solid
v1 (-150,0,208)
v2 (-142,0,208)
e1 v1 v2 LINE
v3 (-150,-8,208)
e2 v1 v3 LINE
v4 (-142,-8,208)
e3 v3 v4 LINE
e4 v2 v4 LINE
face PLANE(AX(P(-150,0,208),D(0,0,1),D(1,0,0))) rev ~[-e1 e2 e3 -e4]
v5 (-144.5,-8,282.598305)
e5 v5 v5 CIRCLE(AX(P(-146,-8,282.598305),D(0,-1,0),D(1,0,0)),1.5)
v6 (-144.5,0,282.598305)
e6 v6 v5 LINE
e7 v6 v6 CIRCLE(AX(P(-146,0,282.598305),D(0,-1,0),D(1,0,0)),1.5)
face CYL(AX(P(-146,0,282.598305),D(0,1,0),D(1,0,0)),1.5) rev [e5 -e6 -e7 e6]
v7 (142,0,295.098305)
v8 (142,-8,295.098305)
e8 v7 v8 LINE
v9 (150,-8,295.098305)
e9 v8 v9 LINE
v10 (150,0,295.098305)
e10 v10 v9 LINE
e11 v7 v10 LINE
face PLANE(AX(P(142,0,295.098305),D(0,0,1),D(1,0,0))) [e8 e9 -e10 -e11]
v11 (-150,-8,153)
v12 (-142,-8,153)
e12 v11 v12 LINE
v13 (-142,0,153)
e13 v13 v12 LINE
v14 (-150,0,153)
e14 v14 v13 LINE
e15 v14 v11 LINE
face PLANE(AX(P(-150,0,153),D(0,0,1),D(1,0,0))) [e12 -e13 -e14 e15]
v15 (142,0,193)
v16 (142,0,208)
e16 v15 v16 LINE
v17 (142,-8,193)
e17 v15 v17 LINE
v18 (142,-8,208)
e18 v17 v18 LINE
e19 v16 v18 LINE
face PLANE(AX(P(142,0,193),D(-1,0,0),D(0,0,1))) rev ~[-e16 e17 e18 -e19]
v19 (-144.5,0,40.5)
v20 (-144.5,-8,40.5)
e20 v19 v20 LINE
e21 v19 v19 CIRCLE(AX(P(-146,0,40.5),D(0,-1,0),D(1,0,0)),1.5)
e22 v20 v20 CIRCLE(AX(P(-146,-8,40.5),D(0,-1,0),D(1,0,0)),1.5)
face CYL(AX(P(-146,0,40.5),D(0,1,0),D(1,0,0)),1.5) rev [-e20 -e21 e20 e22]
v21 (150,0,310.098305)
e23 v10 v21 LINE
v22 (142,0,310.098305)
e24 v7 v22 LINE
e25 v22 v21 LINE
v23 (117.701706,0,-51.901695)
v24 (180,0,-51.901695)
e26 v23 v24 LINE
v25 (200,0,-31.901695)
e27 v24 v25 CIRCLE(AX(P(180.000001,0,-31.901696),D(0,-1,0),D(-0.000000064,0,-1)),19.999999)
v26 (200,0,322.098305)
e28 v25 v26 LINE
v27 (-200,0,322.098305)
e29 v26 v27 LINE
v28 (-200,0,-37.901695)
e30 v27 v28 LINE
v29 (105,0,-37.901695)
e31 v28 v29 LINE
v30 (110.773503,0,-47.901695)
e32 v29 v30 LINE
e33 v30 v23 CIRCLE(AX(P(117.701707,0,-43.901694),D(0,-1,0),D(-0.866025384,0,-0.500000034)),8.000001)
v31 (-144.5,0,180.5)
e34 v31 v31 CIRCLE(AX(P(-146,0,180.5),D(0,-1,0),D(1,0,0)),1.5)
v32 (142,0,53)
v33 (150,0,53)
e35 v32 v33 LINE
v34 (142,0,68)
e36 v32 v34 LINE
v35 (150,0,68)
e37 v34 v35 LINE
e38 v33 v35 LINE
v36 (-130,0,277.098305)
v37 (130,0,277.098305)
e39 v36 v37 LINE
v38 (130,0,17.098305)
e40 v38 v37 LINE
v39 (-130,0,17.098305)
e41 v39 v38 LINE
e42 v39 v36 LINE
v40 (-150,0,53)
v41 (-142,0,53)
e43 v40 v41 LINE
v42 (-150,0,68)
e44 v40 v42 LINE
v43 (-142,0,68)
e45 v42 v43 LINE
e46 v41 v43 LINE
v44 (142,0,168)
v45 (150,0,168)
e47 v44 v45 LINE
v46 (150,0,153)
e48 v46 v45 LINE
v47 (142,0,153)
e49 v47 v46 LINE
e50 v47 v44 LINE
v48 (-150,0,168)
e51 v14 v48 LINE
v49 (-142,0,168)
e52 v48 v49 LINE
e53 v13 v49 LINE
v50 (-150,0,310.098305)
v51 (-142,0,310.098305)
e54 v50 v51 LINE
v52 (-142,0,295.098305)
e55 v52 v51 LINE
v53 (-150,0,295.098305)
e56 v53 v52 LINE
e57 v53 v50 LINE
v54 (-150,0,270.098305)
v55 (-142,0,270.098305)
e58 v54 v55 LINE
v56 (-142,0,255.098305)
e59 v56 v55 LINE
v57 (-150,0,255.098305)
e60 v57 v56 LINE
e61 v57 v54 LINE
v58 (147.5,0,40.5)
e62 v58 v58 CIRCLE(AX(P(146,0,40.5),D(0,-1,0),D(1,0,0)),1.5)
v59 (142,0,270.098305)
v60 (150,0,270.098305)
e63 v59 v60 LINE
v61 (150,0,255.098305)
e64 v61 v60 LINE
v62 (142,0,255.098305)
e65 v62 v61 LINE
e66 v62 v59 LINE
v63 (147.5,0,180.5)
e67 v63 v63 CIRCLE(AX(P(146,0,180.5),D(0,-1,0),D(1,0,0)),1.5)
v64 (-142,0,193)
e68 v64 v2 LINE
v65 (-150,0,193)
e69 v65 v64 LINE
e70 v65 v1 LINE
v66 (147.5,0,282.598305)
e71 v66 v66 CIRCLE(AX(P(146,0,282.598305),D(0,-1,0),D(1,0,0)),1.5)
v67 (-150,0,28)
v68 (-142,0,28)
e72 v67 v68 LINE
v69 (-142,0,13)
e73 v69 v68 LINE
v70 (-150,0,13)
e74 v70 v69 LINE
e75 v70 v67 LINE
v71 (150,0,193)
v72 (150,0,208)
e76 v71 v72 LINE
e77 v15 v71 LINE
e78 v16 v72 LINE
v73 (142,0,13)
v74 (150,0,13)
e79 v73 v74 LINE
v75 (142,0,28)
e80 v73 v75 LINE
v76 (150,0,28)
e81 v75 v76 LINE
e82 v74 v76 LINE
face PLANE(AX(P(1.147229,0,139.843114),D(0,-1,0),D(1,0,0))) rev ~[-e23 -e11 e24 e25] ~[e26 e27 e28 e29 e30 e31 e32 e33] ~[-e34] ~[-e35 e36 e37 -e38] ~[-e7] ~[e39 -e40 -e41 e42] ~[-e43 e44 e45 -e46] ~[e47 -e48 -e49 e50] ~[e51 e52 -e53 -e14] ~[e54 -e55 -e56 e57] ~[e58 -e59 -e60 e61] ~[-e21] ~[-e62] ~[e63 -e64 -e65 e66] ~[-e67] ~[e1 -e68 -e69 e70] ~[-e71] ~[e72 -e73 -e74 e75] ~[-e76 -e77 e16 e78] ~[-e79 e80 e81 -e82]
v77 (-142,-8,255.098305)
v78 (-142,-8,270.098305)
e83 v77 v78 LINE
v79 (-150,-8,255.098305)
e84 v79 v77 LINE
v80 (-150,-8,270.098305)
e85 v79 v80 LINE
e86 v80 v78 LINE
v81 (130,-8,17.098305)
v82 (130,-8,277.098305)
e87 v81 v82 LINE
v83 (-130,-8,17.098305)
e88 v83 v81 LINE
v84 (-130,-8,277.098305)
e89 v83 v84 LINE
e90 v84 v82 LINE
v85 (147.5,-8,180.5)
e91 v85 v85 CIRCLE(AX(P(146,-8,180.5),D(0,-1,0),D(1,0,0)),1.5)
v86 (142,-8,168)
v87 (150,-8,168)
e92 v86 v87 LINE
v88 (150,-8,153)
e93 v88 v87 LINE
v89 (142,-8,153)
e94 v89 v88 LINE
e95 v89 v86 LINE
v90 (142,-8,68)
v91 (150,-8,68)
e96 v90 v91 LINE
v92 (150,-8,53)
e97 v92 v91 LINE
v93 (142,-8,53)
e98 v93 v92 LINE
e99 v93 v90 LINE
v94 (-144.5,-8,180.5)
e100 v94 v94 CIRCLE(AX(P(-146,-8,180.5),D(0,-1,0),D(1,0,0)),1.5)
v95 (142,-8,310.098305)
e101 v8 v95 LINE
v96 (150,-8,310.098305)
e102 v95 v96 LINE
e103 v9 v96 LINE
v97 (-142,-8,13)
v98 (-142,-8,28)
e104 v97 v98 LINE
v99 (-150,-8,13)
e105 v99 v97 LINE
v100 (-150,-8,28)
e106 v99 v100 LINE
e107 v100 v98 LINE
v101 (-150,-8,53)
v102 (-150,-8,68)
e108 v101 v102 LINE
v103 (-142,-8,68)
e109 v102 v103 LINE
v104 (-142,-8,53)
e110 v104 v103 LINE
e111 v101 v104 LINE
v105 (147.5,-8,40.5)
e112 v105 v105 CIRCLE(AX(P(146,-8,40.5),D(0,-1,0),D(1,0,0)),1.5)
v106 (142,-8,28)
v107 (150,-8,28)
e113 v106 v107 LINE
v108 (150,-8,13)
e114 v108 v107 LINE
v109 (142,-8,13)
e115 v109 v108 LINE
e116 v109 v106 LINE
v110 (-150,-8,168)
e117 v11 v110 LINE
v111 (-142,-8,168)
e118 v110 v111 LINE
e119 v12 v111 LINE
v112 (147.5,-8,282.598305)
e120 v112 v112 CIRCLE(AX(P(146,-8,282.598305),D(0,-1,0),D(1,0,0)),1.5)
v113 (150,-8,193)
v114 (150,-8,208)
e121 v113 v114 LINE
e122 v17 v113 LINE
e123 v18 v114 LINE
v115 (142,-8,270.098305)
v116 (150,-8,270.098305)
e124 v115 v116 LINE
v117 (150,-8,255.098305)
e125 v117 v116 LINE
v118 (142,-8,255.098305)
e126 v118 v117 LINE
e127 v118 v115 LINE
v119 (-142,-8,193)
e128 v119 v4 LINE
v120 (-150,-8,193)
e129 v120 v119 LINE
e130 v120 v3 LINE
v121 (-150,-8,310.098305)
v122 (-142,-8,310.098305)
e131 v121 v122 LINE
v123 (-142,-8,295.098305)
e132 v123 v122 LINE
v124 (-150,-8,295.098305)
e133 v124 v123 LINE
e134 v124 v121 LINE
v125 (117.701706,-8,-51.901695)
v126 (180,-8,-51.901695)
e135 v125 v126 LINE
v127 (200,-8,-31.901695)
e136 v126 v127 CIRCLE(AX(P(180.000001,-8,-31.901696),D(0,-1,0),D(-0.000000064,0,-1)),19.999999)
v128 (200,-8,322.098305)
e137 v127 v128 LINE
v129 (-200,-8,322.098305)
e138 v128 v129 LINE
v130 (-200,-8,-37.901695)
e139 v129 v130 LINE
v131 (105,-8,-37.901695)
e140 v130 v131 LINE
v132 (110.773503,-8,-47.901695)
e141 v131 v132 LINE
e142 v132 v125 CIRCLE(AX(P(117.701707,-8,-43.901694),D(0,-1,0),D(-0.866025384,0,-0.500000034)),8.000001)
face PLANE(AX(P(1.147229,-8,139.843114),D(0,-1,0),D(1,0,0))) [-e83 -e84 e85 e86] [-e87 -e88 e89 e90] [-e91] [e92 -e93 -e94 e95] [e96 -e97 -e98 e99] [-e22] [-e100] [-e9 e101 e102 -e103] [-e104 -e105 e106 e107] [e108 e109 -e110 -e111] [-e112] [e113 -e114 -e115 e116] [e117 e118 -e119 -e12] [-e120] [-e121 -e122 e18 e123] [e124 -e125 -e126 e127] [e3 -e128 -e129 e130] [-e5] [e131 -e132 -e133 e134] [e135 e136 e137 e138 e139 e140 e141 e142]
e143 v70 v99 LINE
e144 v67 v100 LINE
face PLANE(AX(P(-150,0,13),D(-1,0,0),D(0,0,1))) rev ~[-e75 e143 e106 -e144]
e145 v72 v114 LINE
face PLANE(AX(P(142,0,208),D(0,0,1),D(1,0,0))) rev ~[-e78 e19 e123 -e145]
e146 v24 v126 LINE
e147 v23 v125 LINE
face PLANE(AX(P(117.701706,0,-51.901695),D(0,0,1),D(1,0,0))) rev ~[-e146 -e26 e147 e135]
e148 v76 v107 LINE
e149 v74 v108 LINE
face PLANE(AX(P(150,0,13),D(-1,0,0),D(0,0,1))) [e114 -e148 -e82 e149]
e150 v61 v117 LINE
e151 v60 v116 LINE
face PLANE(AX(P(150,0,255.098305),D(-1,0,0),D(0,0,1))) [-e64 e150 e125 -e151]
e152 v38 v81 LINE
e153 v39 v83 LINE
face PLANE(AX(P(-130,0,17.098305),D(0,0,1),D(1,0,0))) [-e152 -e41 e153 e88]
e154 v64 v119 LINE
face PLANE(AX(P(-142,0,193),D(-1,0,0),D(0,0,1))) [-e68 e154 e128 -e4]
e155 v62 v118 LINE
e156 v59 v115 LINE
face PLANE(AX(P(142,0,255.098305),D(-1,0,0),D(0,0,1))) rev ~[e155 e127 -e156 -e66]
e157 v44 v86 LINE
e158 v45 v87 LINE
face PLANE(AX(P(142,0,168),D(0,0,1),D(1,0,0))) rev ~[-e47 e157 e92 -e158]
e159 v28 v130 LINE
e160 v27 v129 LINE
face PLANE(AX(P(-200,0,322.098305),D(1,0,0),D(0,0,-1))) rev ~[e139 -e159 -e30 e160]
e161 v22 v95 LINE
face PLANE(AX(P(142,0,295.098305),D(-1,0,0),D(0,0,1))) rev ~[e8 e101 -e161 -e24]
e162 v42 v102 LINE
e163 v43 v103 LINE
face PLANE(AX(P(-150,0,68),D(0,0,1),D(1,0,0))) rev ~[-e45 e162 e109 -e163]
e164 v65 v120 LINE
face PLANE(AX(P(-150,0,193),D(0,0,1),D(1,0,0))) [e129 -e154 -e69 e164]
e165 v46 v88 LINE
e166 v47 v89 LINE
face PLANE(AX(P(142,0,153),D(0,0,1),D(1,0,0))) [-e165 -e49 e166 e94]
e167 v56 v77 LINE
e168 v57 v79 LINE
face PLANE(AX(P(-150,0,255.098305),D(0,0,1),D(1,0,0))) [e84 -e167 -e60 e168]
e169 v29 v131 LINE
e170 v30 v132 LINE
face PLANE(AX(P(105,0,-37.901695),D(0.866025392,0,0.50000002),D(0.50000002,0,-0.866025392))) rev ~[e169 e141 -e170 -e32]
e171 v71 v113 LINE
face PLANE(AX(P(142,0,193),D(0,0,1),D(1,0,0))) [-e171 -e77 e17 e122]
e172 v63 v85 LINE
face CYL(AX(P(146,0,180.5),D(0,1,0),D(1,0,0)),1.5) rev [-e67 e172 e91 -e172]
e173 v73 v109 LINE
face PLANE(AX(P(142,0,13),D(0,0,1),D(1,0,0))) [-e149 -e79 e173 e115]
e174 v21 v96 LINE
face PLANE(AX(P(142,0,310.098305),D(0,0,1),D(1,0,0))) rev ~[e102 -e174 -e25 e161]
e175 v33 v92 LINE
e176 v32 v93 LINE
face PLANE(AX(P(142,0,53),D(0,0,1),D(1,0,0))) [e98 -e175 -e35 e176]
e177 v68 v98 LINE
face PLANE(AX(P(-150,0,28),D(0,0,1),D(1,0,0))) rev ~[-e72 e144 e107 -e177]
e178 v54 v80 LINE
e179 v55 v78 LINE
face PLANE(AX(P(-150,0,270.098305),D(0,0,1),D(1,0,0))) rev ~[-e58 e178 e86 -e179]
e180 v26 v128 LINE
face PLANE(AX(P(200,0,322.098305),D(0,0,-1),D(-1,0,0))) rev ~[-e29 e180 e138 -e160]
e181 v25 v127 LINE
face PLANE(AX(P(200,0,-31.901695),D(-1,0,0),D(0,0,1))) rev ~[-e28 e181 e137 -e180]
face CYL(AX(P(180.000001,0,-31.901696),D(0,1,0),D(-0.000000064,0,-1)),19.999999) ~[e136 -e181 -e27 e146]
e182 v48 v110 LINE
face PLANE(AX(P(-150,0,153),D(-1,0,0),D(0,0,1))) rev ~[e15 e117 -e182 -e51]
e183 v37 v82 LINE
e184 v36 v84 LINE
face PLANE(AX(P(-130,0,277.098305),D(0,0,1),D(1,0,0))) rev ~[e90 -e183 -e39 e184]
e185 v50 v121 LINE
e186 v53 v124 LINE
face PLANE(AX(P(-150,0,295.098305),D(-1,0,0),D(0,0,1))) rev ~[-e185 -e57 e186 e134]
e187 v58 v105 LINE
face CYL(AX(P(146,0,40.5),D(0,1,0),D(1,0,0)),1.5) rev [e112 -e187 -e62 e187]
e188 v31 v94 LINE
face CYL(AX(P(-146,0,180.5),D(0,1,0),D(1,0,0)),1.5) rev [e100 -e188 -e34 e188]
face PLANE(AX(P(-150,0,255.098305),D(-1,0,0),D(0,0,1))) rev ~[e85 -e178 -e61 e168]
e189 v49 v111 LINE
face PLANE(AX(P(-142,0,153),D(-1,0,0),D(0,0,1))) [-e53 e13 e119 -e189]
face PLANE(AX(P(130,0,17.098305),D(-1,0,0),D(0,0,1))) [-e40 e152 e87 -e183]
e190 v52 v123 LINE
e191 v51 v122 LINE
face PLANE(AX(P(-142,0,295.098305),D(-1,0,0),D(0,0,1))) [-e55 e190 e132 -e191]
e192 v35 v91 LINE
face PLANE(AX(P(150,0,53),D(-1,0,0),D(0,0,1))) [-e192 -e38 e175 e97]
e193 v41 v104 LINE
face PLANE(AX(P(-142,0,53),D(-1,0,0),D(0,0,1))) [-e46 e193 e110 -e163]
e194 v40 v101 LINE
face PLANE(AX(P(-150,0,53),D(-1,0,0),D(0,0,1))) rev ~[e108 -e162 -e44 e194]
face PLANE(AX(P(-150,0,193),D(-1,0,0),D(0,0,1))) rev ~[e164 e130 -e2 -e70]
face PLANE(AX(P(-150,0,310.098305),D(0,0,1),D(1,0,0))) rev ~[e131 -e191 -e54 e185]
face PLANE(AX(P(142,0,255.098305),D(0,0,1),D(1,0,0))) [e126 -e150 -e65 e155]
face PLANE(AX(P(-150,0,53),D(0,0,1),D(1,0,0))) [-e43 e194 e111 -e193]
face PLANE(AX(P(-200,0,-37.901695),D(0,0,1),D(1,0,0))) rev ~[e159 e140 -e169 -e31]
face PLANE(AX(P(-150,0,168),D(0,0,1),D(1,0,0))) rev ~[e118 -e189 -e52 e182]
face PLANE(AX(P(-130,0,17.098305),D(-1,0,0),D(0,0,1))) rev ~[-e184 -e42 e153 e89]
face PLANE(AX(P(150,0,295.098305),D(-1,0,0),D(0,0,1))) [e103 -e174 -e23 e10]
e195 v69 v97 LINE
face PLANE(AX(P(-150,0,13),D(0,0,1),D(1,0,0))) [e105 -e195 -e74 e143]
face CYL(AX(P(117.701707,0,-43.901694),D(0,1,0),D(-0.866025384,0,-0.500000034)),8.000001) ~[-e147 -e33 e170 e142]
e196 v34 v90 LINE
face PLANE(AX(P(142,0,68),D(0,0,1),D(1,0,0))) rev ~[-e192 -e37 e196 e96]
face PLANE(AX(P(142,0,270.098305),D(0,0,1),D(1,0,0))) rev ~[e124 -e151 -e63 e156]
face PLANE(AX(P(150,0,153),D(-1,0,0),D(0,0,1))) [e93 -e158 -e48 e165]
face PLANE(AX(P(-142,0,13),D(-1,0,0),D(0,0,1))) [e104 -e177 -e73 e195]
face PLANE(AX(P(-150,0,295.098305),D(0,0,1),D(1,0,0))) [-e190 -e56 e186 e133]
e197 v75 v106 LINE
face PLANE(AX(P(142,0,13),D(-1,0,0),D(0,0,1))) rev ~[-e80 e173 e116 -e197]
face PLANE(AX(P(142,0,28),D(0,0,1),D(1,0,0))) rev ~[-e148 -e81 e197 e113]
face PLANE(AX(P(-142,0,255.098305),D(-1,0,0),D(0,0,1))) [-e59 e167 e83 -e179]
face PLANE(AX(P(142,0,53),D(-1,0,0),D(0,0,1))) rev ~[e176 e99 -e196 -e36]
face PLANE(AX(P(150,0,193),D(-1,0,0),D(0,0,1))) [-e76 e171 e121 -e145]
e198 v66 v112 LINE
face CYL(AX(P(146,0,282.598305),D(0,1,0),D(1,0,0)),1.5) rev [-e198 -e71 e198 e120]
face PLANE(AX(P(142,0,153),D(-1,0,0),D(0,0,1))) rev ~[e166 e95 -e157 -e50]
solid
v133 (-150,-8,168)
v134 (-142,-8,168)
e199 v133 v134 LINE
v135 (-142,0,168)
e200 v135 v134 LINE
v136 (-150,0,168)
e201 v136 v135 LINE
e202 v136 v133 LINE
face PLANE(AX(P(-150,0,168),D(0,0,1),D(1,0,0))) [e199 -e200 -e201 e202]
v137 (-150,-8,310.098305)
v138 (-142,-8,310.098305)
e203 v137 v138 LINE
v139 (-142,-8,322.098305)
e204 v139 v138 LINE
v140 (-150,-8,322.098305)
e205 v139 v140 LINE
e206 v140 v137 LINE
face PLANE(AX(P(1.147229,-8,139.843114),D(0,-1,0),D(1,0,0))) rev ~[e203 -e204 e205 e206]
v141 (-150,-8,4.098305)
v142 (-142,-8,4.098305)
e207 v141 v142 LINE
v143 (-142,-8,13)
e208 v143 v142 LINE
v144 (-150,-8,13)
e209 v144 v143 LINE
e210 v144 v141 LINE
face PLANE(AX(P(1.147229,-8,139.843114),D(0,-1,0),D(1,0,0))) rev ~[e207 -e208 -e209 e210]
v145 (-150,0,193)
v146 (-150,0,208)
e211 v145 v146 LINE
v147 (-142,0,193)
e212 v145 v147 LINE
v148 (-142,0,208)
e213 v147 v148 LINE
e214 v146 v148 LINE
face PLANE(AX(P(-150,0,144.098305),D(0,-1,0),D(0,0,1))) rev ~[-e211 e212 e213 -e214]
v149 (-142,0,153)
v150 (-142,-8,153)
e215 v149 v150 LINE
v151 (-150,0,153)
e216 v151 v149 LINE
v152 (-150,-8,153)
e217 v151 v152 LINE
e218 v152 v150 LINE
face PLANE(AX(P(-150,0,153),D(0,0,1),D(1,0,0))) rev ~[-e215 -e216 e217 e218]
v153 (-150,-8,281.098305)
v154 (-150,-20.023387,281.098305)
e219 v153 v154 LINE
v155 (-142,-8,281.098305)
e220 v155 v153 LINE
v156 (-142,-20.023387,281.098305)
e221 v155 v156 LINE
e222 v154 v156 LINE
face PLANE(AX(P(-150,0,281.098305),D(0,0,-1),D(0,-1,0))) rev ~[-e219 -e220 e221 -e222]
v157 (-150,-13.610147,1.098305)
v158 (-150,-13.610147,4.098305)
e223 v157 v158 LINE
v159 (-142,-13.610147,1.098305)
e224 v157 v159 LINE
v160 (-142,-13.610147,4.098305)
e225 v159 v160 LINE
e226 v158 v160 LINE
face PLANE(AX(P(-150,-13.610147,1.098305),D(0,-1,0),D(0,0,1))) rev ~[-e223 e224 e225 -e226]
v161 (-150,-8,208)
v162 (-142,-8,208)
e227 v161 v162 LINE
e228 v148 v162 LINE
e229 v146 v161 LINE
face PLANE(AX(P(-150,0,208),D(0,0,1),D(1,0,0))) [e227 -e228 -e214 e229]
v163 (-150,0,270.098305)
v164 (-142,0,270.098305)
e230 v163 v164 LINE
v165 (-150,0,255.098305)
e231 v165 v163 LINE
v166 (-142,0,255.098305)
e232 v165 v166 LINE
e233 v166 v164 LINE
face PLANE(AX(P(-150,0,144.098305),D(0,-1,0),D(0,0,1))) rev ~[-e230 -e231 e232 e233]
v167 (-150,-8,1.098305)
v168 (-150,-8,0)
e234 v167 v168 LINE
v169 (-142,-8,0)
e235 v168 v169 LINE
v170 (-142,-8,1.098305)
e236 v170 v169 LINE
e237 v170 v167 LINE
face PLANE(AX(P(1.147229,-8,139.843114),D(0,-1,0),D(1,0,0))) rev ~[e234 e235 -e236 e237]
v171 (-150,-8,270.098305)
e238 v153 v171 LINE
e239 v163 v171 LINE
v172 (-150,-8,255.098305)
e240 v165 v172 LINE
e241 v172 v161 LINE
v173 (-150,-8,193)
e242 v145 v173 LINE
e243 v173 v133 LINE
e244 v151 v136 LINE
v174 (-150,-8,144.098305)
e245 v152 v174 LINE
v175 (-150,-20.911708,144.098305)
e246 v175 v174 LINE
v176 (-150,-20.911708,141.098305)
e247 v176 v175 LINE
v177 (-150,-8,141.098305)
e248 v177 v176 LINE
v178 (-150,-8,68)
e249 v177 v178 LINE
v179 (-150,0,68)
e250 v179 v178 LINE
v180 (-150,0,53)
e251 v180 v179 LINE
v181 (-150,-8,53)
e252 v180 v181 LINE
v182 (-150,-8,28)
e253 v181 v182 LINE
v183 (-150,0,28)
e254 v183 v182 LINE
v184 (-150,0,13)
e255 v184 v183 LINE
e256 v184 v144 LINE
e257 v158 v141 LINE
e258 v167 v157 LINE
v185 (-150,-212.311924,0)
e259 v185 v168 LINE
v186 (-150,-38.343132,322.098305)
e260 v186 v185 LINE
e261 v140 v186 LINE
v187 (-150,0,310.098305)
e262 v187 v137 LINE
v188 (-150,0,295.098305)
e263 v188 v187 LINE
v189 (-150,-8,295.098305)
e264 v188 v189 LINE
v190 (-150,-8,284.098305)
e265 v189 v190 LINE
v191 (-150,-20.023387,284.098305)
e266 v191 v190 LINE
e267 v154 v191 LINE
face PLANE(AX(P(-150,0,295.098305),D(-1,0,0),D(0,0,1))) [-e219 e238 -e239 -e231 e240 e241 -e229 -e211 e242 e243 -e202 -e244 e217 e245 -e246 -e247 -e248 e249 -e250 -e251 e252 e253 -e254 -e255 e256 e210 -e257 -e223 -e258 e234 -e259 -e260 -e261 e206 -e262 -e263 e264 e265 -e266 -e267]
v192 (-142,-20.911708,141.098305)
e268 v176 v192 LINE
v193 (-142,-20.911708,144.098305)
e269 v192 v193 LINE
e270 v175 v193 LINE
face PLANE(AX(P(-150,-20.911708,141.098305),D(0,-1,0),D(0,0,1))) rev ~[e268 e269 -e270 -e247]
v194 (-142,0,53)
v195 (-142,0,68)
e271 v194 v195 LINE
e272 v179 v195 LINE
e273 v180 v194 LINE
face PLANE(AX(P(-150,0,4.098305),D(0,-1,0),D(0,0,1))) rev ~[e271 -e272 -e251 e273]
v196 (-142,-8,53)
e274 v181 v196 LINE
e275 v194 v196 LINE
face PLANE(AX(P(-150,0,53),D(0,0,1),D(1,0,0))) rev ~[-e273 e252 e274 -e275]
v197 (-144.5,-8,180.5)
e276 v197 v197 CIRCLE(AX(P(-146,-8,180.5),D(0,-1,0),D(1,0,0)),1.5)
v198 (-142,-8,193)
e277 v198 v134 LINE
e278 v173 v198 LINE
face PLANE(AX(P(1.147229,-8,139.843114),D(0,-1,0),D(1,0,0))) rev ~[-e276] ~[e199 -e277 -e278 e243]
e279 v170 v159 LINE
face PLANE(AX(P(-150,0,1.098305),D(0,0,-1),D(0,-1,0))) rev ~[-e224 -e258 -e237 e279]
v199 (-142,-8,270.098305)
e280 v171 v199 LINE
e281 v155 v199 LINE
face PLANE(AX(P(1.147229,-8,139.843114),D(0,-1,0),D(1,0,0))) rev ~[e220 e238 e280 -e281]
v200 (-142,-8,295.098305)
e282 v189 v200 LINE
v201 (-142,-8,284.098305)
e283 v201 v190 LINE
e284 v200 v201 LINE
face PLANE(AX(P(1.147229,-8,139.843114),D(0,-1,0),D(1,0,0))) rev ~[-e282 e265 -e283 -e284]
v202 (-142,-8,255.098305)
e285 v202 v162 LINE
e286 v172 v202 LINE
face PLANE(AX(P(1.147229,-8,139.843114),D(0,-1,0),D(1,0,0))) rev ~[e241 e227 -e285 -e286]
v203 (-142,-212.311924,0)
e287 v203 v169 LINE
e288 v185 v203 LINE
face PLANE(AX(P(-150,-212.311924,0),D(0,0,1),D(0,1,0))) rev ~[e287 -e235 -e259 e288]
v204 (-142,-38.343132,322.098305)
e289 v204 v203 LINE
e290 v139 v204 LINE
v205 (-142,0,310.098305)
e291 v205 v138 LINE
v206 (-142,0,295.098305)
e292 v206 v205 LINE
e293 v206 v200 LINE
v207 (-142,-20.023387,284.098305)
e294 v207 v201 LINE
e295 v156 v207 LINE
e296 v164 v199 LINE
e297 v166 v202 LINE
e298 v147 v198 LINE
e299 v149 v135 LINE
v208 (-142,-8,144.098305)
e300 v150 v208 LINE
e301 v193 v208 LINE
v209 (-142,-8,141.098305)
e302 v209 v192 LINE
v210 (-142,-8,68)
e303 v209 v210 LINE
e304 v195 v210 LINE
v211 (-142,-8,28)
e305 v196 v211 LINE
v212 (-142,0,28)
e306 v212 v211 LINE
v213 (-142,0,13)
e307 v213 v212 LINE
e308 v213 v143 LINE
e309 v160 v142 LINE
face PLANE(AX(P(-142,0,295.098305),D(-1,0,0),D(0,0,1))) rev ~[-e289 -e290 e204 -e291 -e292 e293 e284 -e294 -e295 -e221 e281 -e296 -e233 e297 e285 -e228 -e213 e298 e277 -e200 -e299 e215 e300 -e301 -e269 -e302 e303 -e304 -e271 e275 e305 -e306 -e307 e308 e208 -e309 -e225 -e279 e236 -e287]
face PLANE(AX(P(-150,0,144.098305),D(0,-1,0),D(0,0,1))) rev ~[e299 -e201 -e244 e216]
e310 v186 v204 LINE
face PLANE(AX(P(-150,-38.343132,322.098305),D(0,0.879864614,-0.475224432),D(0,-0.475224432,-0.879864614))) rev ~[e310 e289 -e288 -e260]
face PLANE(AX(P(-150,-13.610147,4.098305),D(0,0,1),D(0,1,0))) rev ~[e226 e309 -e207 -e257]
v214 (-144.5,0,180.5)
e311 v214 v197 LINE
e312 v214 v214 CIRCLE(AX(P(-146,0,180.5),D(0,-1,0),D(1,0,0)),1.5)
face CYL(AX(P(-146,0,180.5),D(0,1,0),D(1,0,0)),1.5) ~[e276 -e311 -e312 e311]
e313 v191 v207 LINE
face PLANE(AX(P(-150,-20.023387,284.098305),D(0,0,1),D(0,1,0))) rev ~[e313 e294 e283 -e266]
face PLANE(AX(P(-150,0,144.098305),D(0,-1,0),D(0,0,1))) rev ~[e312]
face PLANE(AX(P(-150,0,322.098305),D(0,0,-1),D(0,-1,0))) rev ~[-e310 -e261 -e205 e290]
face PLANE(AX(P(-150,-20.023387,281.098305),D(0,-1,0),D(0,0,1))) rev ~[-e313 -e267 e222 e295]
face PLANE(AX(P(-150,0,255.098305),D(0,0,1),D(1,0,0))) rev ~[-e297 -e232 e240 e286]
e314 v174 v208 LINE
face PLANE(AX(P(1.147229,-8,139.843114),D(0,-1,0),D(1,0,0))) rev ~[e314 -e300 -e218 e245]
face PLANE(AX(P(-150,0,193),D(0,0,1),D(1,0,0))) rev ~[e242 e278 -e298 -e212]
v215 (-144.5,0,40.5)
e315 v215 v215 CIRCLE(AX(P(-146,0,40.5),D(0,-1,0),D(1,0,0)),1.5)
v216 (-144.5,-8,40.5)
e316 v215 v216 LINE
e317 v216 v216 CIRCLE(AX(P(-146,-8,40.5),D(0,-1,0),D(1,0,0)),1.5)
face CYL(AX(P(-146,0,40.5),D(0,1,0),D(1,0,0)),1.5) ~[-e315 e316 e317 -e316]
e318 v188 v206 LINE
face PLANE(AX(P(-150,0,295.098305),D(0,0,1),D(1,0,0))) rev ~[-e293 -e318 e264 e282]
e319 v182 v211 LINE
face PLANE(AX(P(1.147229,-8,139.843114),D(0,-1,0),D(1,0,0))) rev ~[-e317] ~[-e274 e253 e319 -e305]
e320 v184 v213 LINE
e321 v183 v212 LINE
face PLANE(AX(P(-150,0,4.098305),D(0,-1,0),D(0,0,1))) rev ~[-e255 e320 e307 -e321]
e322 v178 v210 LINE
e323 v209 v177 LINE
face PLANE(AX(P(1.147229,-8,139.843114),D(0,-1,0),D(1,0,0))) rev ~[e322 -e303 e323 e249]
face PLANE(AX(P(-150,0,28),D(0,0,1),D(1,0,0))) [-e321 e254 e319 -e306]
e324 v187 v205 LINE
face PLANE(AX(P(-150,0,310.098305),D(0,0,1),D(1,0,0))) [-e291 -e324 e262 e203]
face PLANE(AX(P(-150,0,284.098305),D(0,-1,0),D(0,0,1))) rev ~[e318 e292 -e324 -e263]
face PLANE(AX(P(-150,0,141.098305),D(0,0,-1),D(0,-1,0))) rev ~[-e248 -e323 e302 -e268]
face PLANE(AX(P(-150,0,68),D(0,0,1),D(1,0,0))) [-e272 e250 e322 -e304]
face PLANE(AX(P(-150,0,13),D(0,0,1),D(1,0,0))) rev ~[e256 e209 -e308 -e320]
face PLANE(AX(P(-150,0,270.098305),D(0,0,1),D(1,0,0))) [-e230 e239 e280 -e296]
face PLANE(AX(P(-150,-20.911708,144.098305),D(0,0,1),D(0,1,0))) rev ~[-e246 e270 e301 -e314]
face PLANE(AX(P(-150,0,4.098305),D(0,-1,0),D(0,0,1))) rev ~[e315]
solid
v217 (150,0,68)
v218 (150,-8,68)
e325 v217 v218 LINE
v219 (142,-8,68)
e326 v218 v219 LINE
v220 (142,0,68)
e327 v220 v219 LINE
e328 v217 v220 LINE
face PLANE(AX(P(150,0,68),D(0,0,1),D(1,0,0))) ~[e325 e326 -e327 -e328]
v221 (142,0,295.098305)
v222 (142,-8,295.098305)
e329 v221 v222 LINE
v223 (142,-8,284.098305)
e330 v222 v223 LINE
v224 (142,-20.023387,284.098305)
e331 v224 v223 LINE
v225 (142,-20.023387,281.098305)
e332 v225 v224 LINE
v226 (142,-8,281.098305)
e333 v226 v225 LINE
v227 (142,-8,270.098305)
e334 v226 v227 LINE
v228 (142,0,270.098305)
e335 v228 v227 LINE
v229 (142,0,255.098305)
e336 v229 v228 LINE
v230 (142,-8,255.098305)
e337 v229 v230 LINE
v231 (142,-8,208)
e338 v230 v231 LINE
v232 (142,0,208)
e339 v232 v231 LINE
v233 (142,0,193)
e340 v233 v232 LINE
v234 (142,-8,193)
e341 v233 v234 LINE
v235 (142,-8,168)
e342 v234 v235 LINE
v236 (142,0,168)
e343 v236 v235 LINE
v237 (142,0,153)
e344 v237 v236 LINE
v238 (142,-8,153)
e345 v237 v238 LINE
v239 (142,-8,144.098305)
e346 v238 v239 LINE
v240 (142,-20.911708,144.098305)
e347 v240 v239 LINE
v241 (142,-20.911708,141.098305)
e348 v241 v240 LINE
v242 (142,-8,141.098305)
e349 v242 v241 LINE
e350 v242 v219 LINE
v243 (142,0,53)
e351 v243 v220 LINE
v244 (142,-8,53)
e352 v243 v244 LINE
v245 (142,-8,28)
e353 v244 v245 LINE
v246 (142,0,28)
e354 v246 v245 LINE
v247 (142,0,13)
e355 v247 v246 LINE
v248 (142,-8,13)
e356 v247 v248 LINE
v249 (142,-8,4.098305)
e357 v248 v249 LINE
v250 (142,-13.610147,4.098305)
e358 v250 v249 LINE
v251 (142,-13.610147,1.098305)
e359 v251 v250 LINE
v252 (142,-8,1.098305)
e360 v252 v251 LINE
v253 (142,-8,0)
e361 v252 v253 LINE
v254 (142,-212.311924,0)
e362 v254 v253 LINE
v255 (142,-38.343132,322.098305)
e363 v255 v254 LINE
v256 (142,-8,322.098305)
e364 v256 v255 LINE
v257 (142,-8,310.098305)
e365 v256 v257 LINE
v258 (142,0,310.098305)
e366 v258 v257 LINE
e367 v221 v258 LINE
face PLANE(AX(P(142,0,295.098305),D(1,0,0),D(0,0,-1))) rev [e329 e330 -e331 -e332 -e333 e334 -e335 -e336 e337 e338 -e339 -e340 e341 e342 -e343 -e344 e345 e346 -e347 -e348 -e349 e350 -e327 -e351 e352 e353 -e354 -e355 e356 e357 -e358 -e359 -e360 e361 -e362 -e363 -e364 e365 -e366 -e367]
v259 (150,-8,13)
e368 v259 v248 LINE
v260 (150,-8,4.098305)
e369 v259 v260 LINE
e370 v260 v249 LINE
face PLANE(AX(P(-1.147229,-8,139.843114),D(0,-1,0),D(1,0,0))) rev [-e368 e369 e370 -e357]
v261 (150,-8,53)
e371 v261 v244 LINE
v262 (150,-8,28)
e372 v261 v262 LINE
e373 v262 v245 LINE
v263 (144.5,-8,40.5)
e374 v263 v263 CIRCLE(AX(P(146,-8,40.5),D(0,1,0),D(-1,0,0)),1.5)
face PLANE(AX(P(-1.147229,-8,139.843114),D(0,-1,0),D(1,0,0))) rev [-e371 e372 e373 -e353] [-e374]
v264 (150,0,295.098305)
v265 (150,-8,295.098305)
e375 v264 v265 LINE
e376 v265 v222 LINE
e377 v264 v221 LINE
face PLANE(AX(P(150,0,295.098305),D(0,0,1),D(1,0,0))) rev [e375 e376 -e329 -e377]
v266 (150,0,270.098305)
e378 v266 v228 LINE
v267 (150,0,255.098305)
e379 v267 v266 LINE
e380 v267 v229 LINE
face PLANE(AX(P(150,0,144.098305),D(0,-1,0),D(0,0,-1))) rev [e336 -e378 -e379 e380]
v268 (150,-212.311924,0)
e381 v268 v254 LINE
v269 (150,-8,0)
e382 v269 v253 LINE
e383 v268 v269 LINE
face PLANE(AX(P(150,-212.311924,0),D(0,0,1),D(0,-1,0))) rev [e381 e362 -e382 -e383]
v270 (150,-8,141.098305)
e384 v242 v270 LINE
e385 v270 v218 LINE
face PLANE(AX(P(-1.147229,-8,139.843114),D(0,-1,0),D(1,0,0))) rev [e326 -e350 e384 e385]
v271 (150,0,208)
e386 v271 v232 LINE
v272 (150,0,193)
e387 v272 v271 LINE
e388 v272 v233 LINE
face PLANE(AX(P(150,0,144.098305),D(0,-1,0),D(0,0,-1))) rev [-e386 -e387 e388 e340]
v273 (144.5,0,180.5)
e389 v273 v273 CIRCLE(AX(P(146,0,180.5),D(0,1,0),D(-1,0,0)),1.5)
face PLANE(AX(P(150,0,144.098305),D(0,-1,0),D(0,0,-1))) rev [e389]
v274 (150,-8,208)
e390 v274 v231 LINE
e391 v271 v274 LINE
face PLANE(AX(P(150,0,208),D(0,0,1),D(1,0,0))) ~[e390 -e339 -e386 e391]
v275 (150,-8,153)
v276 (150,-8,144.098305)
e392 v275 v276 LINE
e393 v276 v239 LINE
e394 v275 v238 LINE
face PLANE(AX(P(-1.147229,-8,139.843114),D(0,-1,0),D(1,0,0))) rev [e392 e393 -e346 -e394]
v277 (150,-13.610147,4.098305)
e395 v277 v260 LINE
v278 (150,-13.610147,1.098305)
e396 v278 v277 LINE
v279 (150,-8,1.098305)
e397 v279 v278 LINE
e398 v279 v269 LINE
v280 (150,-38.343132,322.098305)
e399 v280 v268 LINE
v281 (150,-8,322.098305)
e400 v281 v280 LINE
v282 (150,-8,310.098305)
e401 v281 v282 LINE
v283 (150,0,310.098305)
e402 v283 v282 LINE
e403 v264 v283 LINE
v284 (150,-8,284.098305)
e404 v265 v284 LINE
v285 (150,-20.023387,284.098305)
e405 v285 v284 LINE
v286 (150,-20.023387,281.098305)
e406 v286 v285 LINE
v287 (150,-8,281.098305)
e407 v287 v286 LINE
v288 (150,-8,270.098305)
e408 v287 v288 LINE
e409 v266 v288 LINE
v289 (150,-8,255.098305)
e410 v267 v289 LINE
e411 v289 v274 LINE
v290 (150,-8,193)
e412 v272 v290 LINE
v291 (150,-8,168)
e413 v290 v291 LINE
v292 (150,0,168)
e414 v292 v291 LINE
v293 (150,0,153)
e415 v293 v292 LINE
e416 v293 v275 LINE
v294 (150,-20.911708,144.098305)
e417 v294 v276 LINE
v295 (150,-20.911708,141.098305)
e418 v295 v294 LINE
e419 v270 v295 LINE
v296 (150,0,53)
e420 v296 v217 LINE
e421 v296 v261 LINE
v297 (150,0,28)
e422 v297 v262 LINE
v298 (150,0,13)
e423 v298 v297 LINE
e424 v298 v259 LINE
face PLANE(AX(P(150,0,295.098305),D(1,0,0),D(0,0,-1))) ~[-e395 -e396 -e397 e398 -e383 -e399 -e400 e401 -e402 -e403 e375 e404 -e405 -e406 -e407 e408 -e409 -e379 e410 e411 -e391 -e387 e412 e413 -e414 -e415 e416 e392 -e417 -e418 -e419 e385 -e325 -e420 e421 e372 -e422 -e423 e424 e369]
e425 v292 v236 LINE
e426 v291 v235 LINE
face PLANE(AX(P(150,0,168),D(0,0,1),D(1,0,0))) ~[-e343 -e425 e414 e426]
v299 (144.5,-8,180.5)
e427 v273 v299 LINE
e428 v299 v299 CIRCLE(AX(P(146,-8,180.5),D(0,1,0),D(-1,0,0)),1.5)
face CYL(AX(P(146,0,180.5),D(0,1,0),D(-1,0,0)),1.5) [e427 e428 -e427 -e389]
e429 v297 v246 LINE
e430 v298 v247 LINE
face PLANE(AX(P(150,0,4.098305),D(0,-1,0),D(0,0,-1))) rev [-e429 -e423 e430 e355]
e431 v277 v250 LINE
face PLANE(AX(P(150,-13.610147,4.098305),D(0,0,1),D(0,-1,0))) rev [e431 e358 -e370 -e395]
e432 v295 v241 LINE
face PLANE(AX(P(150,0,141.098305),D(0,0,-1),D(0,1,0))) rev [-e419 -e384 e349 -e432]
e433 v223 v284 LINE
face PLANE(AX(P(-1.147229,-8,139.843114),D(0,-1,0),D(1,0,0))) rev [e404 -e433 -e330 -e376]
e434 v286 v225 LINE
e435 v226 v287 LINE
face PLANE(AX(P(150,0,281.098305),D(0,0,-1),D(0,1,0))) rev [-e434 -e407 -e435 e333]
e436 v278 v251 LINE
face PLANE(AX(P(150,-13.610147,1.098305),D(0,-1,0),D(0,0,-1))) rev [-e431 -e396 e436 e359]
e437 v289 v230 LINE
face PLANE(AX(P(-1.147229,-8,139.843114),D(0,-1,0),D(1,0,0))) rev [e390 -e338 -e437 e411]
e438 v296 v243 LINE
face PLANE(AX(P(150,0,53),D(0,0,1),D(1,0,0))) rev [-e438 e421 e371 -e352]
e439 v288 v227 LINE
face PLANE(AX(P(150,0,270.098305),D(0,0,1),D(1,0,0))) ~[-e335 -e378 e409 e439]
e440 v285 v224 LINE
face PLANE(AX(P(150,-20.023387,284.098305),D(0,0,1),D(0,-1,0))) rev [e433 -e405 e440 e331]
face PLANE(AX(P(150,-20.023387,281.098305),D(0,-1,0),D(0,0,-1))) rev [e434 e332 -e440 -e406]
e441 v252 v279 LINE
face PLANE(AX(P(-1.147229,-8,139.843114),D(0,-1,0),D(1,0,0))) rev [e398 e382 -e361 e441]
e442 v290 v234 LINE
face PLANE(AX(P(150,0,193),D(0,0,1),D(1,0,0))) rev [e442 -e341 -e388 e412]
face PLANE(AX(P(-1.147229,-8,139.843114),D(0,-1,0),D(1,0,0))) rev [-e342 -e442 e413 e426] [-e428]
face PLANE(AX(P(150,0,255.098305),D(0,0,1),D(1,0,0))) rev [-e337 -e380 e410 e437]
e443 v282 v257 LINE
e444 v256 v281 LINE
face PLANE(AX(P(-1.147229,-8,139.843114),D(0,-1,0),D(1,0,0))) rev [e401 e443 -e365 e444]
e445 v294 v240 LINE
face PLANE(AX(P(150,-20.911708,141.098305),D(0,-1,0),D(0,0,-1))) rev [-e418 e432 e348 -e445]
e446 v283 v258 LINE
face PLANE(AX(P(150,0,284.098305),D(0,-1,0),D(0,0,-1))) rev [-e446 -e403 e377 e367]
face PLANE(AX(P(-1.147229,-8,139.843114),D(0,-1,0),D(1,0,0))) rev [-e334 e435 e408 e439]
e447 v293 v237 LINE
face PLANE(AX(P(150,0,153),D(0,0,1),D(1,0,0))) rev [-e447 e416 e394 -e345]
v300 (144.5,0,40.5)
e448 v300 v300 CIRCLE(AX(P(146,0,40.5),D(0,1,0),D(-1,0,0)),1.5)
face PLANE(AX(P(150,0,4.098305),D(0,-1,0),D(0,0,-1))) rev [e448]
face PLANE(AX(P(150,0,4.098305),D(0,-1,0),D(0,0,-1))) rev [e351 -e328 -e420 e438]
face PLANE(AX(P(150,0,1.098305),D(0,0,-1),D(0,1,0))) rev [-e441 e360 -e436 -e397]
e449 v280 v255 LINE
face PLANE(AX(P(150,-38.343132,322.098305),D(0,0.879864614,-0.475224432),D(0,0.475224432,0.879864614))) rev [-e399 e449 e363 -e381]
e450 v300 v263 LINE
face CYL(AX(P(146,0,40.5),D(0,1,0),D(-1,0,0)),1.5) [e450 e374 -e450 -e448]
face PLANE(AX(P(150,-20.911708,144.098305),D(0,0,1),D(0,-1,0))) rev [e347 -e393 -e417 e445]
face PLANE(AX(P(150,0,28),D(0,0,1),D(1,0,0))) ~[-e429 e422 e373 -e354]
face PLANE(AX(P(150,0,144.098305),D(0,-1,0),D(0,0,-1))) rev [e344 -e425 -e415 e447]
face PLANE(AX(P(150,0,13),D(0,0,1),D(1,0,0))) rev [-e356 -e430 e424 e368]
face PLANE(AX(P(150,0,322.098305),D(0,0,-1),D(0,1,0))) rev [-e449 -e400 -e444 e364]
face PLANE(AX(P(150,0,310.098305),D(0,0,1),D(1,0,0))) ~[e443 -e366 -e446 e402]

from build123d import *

# Parameters (mm, degrees)
F0_W     = 8
F0_H     = 15
F0_R     = 1.5
F0_W_2   = 260
F0_H_2   = 260
F1_DEPTH = 8
F2_W     = 8
F2_H     = 15
F3_DEPTH = 8


with BuildPart() as f1:
    # F0 (on Front) → F1 (new body)
    with BuildSketch(Plane.XZ):
        with BuildLine():
            Line((200, 322.098305), (-200, 322.098305))
            Line((-200, 322.098305), (-200, -37.901695))
            Line((-200, -37.901695), (105, -37.901695))
            Line((105, -37.901695), (110.773503, -47.901695))
            ThreePointArc((110.773503, -47.901695), (113.701706, -50.829898), (117.701706, -51.901695))
            Line((117.701706, -51.901695), (180, -51.901695))
            ThreePointArc((180, -51.901695), (194.142136, -46.043831), (200, -31.901695))
            Line((200, -31.901695), (200, 322.098305))
        make_face()
        with Locations((-146, 20.5)):
            Rectangle(F0_W, F0_H, mode=Mode.SUBTRACT)
        with Locations((-146, 40.5)):
            Circle(F0_R, mode=Mode.SUBTRACT)
        with Locations((-146, 60.5)):
            Rectangle(F0_W, F0_H, mode=Mode.SUBTRACT)
        with Locations((146, 20.5)):
            Rectangle(F0_W, F0_H, mode=Mode.SUBTRACT)
        with Locations((146, 40.5)):
            Circle(F0_R, mode=Mode.SUBTRACT)
        with Locations((146, 60.5)):
            Rectangle(F0_W, F0_H, mode=Mode.SUBTRACT)
        with Locations((-146, 160.5)):
            Rectangle(F0_W, F0_H, mode=Mode.SUBTRACT)
        with Locations((-146, 180.5)):
            Circle(F0_R, mode=Mode.SUBTRACT)
        with Locations((-146, 200.5)):
            Rectangle(F0_W, F0_H, mode=Mode.SUBTRACT)
        with Locations((-146, 262.598305)):
            Rectangle(F0_W, F0_H, mode=Mode.SUBTRACT)
        with Locations((-146, 282.598305)):
            Circle(F0_R, mode=Mode.SUBTRACT)
        with Locations((-146, 302.598305)):
            Rectangle(F0_W, F0_H, mode=Mode.SUBTRACT)
        with Locations((0, 147.098305)):
            Rectangle(F0_W_2, F0_H_2, mode=Mode.SUBTRACT)
        with Locations((146, 160.5)):
            Rectangle(F0_W, F0_H, mode=Mode.SUBTRACT)
        with Locations((146, 180.5)):
            Circle(F0_R, mode=Mode.SUBTRACT)
        with Locations((146, 200.5)):
            Rectangle(F0_W, F0_H, mode=Mode.SUBTRACT)
        with Locations((146, 262.598305)):
            Rectangle(F0_W, F0_H, mode=Mode.SUBTRACT)
        with Locations((146, 282.598305)):
            Circle(F0_R, mode=Mode.SUBTRACT)
        with Locations((146, 302.598305)):
            Rectangle(F0_W, F0_H, mode=Mode.SUBTRACT)
    extrude(amount=F1_DEPTH)


with BuildPart() as f3:
    # F2 (on face) → F3 (new body)
    with BuildSketch(Plane.YZ.offset(-150)):
        Polygon((0, 284.098305), (0, 322.098305), (-38.343132, 322.098305), (-212.311924, 0), (0, 0), (0, 1.098305), (-13.610147, 1.098305), (-13.610147, 4.098305), (0, 4.098305), (0, 141.098305), (-20.911708, 141.098305), (-20.911708, 144.098305), (0, 144.098305), (0, 193), (-8, 193), (-8, 208), (0, 208), (0, 281.098305), (-20.023387, 281.098305), (-20.023387, 284.098305), align=None)
        with Locations((-4, 200.5)):
            Rectangle(F2_W, F2_H)
    extrude(amount=F3_DEPTH)

    # F4: cut F1
    add(f1.part, mode=Mode.SUBTRACT)


with BuildPart() as f5_1:
    # F5: instance of F3
    add(f3.part.mirror(Plane.YZ))


solid = Compound([f1.part, f3.part, f5_1.part])
